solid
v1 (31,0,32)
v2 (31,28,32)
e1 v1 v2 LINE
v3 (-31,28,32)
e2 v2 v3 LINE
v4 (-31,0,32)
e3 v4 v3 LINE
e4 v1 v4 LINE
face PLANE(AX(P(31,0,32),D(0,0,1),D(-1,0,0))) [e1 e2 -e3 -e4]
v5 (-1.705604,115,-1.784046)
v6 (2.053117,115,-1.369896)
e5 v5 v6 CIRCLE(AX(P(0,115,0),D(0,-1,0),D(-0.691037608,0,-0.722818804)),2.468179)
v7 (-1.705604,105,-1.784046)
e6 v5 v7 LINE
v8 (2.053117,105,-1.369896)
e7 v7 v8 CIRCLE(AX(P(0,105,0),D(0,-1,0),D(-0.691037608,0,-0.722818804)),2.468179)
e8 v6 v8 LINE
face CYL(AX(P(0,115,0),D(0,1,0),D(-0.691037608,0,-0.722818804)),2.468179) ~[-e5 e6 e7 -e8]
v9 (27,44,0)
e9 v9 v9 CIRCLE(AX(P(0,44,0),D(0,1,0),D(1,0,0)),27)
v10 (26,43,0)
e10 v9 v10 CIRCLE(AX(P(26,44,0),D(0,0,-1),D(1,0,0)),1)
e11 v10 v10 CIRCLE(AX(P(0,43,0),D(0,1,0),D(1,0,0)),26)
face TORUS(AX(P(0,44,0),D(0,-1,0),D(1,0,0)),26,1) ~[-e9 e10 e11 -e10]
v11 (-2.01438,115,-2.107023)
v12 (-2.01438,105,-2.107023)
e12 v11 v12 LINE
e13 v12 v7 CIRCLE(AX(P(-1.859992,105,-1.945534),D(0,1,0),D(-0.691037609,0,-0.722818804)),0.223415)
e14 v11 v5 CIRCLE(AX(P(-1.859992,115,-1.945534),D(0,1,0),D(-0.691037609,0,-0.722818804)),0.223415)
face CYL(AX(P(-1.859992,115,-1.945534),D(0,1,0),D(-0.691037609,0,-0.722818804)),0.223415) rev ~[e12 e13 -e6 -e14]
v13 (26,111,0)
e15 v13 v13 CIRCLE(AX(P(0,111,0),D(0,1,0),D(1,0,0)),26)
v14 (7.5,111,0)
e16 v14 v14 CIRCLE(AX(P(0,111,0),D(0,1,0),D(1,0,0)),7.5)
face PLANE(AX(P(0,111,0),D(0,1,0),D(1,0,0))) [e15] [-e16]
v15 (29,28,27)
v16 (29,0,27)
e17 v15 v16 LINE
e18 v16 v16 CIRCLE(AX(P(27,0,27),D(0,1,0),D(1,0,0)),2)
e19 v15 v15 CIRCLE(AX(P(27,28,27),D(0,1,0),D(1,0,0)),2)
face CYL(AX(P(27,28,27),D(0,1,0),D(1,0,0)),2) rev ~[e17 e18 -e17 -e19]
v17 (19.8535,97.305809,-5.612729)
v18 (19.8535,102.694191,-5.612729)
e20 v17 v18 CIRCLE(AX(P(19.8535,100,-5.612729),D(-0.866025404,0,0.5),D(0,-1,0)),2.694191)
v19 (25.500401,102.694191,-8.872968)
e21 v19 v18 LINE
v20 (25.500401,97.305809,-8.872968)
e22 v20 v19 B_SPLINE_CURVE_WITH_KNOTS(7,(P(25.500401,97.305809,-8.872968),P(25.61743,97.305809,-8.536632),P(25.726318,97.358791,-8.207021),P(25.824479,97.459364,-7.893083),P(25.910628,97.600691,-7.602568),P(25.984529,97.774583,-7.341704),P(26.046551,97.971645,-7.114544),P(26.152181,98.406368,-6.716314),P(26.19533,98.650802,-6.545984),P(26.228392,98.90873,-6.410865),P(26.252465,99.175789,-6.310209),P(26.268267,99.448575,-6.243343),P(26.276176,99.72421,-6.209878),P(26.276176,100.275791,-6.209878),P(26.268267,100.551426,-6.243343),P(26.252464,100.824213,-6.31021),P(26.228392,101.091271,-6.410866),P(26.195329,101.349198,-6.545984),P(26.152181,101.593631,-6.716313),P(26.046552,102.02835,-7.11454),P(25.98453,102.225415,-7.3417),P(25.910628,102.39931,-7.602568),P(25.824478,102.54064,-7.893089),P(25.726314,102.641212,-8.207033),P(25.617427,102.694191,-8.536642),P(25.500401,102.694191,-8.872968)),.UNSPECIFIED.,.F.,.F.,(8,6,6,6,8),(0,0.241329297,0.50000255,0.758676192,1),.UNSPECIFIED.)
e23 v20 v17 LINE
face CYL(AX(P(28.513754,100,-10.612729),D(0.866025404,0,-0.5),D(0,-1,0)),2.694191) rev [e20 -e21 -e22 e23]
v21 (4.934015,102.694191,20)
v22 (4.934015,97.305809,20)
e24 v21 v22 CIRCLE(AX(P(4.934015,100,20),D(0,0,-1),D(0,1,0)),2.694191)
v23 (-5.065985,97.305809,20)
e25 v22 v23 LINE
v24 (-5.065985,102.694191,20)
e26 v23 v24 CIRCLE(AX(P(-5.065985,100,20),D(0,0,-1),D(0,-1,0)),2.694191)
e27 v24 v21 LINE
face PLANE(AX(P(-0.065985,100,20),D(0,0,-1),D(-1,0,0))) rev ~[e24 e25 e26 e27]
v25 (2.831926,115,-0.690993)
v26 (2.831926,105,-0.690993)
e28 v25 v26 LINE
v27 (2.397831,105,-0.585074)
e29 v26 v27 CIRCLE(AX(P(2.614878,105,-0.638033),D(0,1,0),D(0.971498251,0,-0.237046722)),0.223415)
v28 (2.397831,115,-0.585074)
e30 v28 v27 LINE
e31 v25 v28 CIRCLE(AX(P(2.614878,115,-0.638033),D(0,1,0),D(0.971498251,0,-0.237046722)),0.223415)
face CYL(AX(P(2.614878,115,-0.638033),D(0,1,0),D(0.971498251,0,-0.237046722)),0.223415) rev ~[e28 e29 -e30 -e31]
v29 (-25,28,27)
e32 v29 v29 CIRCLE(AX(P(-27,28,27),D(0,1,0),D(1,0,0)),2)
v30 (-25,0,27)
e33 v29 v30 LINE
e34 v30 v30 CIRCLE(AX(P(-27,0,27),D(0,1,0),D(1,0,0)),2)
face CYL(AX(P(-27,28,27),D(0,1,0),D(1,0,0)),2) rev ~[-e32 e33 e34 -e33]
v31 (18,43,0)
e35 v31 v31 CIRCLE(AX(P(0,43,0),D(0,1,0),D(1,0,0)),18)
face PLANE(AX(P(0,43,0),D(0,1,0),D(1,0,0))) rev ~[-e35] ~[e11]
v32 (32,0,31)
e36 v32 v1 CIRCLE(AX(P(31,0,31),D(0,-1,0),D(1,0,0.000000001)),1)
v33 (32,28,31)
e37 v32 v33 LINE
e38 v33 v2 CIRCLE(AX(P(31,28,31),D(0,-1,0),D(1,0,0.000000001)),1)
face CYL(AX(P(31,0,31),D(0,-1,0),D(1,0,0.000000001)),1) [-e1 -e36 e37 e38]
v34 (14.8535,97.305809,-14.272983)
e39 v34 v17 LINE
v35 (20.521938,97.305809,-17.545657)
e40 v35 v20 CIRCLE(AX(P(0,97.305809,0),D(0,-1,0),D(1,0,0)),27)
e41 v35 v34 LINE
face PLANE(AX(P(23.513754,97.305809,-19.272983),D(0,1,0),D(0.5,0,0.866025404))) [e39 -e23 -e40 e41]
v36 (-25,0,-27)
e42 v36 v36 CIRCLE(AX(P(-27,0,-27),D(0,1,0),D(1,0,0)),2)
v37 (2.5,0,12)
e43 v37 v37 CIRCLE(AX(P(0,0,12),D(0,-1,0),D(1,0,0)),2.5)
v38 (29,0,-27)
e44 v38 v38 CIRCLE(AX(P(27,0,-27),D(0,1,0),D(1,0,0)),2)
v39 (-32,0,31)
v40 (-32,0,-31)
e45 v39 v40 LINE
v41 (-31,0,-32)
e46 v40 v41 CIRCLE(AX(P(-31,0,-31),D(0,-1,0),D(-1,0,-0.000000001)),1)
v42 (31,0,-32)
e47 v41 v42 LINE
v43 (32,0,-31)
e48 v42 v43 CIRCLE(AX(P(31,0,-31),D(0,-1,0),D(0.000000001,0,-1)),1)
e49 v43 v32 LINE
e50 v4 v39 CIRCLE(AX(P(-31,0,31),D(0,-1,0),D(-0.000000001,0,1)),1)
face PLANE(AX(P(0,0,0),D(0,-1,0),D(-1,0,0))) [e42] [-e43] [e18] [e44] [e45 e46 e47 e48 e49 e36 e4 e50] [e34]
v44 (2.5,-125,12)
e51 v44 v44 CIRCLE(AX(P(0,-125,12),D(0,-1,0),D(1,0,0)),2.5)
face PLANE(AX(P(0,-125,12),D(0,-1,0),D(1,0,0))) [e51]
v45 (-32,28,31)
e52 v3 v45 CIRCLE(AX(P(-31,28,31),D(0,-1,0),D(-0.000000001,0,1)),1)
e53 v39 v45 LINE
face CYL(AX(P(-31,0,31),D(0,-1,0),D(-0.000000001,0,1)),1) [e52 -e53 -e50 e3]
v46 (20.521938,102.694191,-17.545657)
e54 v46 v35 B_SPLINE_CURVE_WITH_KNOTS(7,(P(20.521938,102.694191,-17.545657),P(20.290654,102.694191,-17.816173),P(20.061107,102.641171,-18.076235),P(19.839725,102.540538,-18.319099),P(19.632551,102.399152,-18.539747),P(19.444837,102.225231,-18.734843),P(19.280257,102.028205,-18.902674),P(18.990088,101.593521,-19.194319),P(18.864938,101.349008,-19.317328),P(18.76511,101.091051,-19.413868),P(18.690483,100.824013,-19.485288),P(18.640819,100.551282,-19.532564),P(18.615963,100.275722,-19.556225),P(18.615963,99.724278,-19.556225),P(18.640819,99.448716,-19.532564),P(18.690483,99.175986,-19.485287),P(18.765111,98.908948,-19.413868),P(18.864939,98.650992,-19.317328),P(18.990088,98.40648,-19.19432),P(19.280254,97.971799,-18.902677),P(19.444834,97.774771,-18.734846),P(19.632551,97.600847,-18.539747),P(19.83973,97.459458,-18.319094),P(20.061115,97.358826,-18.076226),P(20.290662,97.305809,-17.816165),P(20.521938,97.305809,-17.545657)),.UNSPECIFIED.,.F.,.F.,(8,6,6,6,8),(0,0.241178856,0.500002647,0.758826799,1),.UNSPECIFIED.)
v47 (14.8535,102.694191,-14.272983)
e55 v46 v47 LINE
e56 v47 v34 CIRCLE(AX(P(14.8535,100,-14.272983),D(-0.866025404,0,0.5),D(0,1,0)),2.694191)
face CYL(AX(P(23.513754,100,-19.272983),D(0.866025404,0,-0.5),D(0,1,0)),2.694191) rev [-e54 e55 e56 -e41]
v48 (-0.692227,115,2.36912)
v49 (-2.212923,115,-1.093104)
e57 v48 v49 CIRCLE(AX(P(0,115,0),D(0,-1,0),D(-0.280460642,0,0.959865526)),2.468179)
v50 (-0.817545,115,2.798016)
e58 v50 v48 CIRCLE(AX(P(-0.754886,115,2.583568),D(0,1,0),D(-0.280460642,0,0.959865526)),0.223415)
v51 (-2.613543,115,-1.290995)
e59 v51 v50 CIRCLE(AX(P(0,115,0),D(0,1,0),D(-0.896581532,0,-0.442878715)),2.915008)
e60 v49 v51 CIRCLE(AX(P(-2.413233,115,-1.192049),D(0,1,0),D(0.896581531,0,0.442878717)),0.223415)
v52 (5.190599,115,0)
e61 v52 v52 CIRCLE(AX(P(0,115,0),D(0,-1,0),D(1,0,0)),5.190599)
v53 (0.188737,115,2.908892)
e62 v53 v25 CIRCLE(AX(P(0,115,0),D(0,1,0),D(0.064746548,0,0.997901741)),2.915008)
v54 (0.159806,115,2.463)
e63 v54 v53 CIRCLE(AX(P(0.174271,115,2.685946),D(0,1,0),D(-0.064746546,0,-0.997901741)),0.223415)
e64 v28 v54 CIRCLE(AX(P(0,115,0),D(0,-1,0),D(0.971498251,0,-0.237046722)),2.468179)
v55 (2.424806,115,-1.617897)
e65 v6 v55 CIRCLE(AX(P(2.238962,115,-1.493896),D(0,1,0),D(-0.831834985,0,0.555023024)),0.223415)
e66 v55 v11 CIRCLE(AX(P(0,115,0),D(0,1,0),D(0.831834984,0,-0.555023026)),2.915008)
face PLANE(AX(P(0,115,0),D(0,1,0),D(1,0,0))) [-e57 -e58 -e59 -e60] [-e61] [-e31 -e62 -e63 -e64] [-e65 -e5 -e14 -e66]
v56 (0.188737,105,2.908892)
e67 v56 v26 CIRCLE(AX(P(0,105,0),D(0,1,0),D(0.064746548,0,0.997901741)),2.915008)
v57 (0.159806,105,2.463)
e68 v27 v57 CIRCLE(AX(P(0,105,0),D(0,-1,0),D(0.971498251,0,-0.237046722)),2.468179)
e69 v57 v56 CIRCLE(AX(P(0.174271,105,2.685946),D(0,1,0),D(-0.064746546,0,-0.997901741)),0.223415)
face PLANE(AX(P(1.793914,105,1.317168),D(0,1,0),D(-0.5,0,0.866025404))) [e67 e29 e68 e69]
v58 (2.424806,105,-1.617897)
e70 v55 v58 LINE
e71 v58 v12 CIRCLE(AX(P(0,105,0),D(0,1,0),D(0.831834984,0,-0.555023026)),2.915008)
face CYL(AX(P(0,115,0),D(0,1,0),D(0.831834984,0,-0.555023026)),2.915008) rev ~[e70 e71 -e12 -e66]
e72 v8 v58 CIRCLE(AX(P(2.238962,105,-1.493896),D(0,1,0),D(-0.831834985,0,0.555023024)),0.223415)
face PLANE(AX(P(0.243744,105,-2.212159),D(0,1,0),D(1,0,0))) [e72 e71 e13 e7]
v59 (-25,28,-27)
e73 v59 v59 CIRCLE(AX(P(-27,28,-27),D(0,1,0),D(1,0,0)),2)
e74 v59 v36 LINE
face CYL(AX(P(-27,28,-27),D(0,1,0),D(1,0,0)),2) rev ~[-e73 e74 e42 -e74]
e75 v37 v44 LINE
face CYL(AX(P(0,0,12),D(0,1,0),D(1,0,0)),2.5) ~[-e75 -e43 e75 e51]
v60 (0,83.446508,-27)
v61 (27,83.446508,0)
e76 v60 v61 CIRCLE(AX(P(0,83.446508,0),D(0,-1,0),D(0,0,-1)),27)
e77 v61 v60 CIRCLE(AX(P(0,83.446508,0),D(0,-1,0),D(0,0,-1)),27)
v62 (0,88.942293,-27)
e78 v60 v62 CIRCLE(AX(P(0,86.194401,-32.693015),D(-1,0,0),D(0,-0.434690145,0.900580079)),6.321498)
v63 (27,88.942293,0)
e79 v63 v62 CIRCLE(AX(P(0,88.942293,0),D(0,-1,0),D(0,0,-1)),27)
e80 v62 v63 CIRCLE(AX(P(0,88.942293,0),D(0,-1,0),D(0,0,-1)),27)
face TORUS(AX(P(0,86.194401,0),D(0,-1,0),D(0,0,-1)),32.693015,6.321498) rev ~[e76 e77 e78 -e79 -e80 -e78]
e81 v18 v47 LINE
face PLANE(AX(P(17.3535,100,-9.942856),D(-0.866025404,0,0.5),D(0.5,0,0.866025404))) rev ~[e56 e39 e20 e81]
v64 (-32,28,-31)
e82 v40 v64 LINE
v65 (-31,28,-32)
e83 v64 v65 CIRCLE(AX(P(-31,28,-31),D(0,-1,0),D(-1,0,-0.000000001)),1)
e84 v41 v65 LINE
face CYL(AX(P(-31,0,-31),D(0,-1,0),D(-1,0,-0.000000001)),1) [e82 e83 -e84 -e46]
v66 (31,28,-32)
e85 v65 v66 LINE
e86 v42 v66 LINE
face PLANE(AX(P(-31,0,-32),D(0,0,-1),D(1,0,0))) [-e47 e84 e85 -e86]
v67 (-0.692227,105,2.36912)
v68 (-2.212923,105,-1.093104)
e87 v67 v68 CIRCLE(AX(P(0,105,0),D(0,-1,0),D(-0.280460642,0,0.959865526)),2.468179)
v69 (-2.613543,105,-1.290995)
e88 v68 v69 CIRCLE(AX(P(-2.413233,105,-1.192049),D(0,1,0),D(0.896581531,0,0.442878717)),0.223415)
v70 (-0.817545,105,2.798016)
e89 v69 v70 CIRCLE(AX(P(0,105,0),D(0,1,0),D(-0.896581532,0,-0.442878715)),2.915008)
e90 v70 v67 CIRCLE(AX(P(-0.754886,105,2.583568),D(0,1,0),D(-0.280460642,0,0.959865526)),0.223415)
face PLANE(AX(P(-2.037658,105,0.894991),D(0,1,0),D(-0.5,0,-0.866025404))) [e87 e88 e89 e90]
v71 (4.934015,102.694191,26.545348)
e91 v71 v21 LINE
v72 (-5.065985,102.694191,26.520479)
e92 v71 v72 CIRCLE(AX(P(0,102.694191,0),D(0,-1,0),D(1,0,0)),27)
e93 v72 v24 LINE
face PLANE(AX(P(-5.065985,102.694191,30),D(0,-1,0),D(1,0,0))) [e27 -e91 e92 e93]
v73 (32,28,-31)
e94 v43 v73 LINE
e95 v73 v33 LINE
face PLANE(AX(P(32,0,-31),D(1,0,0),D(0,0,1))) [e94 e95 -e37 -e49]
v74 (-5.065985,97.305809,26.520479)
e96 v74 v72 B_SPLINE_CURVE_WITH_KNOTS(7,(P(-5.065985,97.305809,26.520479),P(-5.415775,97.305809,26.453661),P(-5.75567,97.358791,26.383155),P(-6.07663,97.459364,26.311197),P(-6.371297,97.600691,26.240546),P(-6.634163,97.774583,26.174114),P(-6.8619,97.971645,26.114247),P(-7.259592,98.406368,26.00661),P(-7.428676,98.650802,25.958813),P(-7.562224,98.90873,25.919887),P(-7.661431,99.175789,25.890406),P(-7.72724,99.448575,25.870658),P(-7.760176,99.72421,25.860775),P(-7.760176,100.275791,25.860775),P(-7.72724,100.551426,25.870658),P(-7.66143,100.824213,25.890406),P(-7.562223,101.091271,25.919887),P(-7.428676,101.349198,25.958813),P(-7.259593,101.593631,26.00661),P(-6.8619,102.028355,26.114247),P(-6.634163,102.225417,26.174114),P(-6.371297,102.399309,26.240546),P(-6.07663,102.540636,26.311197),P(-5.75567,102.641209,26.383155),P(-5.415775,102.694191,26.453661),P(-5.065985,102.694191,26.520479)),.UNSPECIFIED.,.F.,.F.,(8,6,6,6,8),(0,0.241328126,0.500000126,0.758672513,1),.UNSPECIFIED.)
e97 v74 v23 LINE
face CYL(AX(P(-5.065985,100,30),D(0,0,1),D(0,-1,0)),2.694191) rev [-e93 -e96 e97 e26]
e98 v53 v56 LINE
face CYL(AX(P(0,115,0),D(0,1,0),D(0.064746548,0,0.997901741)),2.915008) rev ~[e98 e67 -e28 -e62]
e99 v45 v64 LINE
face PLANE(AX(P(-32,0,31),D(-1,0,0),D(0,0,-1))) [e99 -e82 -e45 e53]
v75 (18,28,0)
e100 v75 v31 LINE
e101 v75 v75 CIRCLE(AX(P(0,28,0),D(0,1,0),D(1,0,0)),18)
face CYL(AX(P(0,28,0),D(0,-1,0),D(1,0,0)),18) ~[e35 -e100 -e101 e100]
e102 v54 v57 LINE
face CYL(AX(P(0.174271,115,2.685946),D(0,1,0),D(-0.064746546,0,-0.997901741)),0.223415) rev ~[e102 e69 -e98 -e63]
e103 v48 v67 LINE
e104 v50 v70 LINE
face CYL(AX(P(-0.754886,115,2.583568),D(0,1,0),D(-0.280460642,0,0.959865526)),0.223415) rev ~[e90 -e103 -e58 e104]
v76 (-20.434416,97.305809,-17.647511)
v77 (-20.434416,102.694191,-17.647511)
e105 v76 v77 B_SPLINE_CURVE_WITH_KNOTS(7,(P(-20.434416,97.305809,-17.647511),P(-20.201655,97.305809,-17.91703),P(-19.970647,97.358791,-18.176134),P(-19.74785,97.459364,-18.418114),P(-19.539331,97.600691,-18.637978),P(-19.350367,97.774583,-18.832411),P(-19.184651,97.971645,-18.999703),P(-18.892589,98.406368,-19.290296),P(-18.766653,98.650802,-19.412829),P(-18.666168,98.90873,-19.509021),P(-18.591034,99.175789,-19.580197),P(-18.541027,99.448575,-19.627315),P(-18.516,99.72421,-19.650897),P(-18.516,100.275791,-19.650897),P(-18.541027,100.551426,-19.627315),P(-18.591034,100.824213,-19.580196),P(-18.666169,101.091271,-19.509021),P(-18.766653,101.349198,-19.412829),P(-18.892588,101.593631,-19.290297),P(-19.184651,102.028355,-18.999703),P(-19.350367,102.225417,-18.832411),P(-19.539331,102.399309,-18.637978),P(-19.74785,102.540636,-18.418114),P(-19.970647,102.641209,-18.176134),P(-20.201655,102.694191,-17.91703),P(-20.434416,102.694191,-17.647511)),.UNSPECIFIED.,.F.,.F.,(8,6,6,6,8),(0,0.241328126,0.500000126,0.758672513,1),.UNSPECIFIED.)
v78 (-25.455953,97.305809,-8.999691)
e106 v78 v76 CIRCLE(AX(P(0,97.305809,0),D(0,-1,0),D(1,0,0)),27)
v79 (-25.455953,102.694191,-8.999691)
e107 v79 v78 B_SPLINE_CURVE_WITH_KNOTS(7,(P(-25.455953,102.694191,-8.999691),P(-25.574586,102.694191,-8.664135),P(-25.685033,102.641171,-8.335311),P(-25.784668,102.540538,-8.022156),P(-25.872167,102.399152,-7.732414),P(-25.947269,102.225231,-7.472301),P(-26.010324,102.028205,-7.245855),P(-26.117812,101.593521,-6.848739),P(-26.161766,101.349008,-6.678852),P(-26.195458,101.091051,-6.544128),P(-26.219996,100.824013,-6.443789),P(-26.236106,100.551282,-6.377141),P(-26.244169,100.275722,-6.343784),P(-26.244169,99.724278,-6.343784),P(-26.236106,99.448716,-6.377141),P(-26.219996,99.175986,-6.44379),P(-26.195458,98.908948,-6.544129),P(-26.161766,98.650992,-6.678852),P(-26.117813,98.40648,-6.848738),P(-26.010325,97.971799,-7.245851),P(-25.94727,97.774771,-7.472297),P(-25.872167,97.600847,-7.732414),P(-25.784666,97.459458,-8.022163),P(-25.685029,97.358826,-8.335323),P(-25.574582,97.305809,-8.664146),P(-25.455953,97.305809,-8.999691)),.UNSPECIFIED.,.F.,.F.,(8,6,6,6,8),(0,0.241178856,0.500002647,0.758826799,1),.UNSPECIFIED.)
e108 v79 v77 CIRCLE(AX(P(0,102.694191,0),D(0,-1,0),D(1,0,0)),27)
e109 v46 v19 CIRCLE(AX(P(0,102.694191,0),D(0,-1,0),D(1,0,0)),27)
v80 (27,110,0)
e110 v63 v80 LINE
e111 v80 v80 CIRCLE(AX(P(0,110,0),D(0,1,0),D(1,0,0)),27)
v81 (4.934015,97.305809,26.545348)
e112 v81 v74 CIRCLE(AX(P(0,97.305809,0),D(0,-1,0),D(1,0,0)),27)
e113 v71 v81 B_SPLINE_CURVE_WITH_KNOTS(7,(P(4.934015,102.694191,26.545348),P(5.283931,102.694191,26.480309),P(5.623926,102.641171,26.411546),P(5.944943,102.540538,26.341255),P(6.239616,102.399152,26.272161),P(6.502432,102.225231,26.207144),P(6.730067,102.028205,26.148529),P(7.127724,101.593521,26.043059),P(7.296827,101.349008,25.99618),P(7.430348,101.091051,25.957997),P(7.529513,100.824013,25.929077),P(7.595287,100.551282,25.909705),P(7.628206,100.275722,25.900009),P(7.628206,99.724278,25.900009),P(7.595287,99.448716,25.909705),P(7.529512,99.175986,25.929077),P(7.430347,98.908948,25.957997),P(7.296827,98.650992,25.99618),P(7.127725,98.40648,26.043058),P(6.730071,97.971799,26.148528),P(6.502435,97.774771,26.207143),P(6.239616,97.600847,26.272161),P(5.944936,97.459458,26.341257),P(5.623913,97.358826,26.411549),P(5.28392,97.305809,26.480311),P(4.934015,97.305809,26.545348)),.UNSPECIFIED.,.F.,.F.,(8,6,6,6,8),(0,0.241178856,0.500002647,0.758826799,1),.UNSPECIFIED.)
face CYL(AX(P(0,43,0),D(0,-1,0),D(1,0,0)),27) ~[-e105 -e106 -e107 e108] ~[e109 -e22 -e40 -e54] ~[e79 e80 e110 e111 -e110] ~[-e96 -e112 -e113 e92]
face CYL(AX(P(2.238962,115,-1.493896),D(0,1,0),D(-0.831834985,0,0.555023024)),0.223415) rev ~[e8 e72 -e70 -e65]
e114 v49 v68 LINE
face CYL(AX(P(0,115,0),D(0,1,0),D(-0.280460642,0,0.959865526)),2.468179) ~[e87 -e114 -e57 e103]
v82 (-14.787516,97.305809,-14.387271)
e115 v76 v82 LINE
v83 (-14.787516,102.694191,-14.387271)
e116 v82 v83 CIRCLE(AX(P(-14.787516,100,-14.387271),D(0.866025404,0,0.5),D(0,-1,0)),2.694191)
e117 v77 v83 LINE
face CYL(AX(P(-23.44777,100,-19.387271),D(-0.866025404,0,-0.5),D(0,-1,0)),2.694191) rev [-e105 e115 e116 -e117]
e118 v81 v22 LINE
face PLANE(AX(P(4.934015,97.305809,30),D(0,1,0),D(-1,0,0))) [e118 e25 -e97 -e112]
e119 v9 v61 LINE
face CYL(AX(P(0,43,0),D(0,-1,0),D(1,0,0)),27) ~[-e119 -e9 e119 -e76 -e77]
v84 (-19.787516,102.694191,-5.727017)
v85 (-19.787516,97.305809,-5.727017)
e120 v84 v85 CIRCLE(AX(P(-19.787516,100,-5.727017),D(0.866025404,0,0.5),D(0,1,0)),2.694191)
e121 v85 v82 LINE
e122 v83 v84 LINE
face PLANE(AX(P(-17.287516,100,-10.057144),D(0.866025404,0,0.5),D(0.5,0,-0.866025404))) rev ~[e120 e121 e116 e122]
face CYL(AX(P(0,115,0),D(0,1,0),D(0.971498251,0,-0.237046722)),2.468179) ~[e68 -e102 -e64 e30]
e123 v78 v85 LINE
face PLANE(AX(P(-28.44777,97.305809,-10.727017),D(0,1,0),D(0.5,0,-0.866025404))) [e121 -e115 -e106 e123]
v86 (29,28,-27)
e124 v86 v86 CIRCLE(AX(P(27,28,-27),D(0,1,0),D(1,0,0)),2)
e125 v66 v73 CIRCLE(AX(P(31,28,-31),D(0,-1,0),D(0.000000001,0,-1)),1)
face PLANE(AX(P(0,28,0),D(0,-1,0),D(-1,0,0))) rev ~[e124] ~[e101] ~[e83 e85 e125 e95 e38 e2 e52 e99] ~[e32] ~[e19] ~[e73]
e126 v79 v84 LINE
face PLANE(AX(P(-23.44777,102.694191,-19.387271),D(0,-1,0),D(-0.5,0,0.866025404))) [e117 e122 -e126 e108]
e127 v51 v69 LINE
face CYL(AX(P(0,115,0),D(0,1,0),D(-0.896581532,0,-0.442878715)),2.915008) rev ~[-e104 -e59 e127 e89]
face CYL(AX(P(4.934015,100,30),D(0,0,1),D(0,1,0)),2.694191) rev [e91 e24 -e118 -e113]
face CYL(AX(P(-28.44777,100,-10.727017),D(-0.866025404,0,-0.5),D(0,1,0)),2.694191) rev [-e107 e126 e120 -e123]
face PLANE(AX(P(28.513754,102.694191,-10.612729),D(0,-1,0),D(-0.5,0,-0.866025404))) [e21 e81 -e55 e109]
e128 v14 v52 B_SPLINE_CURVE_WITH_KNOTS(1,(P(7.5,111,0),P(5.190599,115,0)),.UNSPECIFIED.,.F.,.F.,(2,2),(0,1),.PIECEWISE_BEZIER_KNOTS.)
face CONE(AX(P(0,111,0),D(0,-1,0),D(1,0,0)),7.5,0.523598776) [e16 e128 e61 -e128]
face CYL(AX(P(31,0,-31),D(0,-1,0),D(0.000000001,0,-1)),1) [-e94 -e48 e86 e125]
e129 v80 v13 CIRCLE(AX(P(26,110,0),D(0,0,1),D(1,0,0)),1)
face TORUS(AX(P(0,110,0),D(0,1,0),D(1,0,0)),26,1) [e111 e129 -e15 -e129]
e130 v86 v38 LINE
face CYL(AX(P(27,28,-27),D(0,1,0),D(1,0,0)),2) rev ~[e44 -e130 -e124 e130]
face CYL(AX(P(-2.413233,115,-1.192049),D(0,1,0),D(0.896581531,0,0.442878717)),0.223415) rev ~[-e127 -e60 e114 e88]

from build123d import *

# Parameters (mm, degrees)
BOSS_EXTRUDE1_DEPTH = 28
SKETCH2_R           = 18
BOSS_EXTRUDE2_DEPTH = 15
SKETCH3_R           = 27
BOSS_EXTRUDE3_DEPTH = 68
FILLET1_R           = 1
FILLET2_R           = 1
SKETCH4_R           = 2
CUT_EXTRUDE1_DEPTH  = 29
SKETCH5_R           = 2.5
BOSS_EXTRUDE4_DEPTH = 125
SKETCH7_R           = 7.5
BOSS_EXTRUDE5_DEPTH = 4
BOSS_EXTRUDE5_TAPER = 30
CUT_EXTRUDE2_DEPTH  = 10
CIRPATTERN1_COUNT   = 3
CUT_EXTRUDE3_DEPTH  = 10
CIRPATTERN2_COUNT   = 3


with BuildPart() as part:
    # Sketch1 → Boss-Extrude1 (new body)
    with BuildSketch(Plane(origin=(0, 0, 0), x_dir=(1, 0, 0), z_dir=(0, 1, 0))):
        with BuildLine():
            Line((-31, 32), (31, 32))
            ThreePointArc((31, 32), (31.707106781, 31.707106781), (32, 31))
            Line((32, 31), (32, -31))
            ThreePointArc((32, -31), (31.707106781, -31.707106781), (31, -32))
            Line((31, -32), (-31, -32))
            ThreePointArc((-31, -32), (-31.707106781, -31.707106781), (-32, -31))
            Line((-32, -31), (-32, 31))
            ThreePointArc((-32, 31), (-31.707106781, 31.707106781), (-31, 32))
        make_face()
    extrude(amount=BOSS_EXTRUDE1_DEPTH)

    # Sketch2 → Boss-Extrude2 (add)
    with BuildSketch(Plane(origin=(0, 28, 0), x_dir=(1, 0, 0), z_dir=(0, 1, 0))):
        Circle(SKETCH2_R)
    extrude(amount=BOSS_EXTRUDE2_DEPTH)

    # Sketch3 → Boss-Extrude3 (add)
    with BuildSketch(Plane(origin=(0, 43, 0), x_dir=(1, 0, 0), z_dir=(0, 1, 0))):
        Circle(SKETCH3_R)
    extrude(amount=BOSS_EXTRUDE3_DEPTH)

    # Fillet1
    fillet1_edges = [part.edges().sort_by_distance(p)[0] for p in [
        (-27, 43, 0),
    ]]
    fillet(fillet1_edges, radius=FILLET1_R)

    # Fillet2
    fillet2_edges = [part.edges().sort_by_distance(p)[0] for p in [
        (-27, 111, 0),
    ]]
    fillet(fillet2_edges, radius=FILLET2_R)

    # Sketch4 → Cut-Extrude1 (cut, through all)
    with BuildSketch(Plane(origin=(0, 28, 0), x_dir=(1, 0, 0), z_dir=(0, 1, 0))):
        with Locations((-27, 27)):
            Circle(SKETCH4_R)
        with Locations((27, 27)):
            Circle(SKETCH4_R)
        with Locations((27, -27)):
            Circle(SKETCH4_R)
        with Locations((-27, -27)):
            Circle(SKETCH4_R)
    extrude(amount=-CUT_EXTRUDE1_DEPTH, mode=Mode.SUBTRACT)

    # Sketch5 → Boss-Extrude4 (add)
    with BuildSketch(Plane.XZ):
        with Locations((0, 12)):
            Circle(SKETCH5_R)
    extrude(amount=BOSS_EXTRUDE4_DEPTH)

    # Sketch6 → Cut-Revolve1 (revolve, cut)
    with BuildSketch(Plane(origin=(0, 0, 0), x_dir=(0, 0, -1), z_dir=(1, 0, 0))):
        with BuildLine():
            Line((27, 88.942293347), (27, 83.446507899))
            ThreePointArc((27, 83.446507899), (26.371517202, 86.194400623), (27, 88.942293347))
        make_face()
    revolve(axis=Axis((0, 111, 0), (0, -1, 0)), mode=Mode.SUBTRACT)

    # Sketch7 → Boss-Extrude5 (add)
    with BuildSketch(Plane(origin=(0, 111, 0), x_dir=(1, 0, 0), z_dir=(0, 1, 0))):
        Circle(SKETCH7_R)
    extrude(amount=BOSS_EXTRUDE5_DEPTH, taper=BOSS_EXTRUDE5_TAPER)

    # Sketch8 → Cut-Extrude2 (cut)
    with BuildSketch(Plane.XY.offset(30)):
        with BuildLine():
            Line((-5.065984647, 102.694191022), (4.934015353, 102.694191022))
            ThreePointArc((4.934015353, 102.694191022), (7.628206376, 100), (4.934015353, 97.305808978))
            Line((4.934015353, 97.305808978), (-5.065984647, 97.305808978))
            ThreePointArc((-5.065984647, 97.305808978), (-7.760175669, 100), (-5.065984647, 102.694191022))
        make_face()
    cut_extrude2 = extrude(amount=-CUT_EXTRUDE2_DEPTH, mode=Mode.SUBTRACT)

    # CirPattern1: Cut-Extrude2 ×3 about axis
    cirpattern1_axis = Axis((0, 0, 0), (0, 1, 0))
    for i in range(1, CIRPATTERN1_COUNT):
        add(cut_extrude2.rotate(cirpattern1_axis, i * 360 / CIRPATTERN1_COUNT), mode=Mode.SUBTRACT)

    # Sketch9 → Cut-Extrude3 (cut)
    with BuildSketch(Plane(origin=(0, 115, 0), x_dir=(1, 0, 0), z_dir=(0, 1, 0))):
        with BuildLine():
            ThreePointArc((2.424806001, 1.617896807), (0.319254394, 2.897473184), (-2.014380463, 2.107022917))
            ThreePointArc((-2.014380463, 2.107022917), (-2.021480856, 1.791146289), (-1.705604229, 1.784045896))
            ThreePointArc((-1.705604229, 1.784045896), (0.270317179, 2.453331239), (2.053117296, 1.36989595))
            ThreePointArc((2.053117296, 1.36989595), (2.362962077, 1.308052026), (2.424806001, 1.617896807))
        make_face()
    cut_extrude3 = extrude(amount=-CUT_EXTRUDE3_DEPTH, mode=Mode.SUBTRACT)

    # CirPattern2: Cut-Extrude3 ×3 about axis
    cirpattern2_axis = Axis((0, 0, 0), (0, 1, 0))
    for i in range(1, CIRPATTERN2_COUNT):
        add(cut_extrude3.rotate(cirpattern2_axis, i * 360 / CIRPATTERN2_COUNT), mode=Mode.SUBTRACT)


solid = part.part
